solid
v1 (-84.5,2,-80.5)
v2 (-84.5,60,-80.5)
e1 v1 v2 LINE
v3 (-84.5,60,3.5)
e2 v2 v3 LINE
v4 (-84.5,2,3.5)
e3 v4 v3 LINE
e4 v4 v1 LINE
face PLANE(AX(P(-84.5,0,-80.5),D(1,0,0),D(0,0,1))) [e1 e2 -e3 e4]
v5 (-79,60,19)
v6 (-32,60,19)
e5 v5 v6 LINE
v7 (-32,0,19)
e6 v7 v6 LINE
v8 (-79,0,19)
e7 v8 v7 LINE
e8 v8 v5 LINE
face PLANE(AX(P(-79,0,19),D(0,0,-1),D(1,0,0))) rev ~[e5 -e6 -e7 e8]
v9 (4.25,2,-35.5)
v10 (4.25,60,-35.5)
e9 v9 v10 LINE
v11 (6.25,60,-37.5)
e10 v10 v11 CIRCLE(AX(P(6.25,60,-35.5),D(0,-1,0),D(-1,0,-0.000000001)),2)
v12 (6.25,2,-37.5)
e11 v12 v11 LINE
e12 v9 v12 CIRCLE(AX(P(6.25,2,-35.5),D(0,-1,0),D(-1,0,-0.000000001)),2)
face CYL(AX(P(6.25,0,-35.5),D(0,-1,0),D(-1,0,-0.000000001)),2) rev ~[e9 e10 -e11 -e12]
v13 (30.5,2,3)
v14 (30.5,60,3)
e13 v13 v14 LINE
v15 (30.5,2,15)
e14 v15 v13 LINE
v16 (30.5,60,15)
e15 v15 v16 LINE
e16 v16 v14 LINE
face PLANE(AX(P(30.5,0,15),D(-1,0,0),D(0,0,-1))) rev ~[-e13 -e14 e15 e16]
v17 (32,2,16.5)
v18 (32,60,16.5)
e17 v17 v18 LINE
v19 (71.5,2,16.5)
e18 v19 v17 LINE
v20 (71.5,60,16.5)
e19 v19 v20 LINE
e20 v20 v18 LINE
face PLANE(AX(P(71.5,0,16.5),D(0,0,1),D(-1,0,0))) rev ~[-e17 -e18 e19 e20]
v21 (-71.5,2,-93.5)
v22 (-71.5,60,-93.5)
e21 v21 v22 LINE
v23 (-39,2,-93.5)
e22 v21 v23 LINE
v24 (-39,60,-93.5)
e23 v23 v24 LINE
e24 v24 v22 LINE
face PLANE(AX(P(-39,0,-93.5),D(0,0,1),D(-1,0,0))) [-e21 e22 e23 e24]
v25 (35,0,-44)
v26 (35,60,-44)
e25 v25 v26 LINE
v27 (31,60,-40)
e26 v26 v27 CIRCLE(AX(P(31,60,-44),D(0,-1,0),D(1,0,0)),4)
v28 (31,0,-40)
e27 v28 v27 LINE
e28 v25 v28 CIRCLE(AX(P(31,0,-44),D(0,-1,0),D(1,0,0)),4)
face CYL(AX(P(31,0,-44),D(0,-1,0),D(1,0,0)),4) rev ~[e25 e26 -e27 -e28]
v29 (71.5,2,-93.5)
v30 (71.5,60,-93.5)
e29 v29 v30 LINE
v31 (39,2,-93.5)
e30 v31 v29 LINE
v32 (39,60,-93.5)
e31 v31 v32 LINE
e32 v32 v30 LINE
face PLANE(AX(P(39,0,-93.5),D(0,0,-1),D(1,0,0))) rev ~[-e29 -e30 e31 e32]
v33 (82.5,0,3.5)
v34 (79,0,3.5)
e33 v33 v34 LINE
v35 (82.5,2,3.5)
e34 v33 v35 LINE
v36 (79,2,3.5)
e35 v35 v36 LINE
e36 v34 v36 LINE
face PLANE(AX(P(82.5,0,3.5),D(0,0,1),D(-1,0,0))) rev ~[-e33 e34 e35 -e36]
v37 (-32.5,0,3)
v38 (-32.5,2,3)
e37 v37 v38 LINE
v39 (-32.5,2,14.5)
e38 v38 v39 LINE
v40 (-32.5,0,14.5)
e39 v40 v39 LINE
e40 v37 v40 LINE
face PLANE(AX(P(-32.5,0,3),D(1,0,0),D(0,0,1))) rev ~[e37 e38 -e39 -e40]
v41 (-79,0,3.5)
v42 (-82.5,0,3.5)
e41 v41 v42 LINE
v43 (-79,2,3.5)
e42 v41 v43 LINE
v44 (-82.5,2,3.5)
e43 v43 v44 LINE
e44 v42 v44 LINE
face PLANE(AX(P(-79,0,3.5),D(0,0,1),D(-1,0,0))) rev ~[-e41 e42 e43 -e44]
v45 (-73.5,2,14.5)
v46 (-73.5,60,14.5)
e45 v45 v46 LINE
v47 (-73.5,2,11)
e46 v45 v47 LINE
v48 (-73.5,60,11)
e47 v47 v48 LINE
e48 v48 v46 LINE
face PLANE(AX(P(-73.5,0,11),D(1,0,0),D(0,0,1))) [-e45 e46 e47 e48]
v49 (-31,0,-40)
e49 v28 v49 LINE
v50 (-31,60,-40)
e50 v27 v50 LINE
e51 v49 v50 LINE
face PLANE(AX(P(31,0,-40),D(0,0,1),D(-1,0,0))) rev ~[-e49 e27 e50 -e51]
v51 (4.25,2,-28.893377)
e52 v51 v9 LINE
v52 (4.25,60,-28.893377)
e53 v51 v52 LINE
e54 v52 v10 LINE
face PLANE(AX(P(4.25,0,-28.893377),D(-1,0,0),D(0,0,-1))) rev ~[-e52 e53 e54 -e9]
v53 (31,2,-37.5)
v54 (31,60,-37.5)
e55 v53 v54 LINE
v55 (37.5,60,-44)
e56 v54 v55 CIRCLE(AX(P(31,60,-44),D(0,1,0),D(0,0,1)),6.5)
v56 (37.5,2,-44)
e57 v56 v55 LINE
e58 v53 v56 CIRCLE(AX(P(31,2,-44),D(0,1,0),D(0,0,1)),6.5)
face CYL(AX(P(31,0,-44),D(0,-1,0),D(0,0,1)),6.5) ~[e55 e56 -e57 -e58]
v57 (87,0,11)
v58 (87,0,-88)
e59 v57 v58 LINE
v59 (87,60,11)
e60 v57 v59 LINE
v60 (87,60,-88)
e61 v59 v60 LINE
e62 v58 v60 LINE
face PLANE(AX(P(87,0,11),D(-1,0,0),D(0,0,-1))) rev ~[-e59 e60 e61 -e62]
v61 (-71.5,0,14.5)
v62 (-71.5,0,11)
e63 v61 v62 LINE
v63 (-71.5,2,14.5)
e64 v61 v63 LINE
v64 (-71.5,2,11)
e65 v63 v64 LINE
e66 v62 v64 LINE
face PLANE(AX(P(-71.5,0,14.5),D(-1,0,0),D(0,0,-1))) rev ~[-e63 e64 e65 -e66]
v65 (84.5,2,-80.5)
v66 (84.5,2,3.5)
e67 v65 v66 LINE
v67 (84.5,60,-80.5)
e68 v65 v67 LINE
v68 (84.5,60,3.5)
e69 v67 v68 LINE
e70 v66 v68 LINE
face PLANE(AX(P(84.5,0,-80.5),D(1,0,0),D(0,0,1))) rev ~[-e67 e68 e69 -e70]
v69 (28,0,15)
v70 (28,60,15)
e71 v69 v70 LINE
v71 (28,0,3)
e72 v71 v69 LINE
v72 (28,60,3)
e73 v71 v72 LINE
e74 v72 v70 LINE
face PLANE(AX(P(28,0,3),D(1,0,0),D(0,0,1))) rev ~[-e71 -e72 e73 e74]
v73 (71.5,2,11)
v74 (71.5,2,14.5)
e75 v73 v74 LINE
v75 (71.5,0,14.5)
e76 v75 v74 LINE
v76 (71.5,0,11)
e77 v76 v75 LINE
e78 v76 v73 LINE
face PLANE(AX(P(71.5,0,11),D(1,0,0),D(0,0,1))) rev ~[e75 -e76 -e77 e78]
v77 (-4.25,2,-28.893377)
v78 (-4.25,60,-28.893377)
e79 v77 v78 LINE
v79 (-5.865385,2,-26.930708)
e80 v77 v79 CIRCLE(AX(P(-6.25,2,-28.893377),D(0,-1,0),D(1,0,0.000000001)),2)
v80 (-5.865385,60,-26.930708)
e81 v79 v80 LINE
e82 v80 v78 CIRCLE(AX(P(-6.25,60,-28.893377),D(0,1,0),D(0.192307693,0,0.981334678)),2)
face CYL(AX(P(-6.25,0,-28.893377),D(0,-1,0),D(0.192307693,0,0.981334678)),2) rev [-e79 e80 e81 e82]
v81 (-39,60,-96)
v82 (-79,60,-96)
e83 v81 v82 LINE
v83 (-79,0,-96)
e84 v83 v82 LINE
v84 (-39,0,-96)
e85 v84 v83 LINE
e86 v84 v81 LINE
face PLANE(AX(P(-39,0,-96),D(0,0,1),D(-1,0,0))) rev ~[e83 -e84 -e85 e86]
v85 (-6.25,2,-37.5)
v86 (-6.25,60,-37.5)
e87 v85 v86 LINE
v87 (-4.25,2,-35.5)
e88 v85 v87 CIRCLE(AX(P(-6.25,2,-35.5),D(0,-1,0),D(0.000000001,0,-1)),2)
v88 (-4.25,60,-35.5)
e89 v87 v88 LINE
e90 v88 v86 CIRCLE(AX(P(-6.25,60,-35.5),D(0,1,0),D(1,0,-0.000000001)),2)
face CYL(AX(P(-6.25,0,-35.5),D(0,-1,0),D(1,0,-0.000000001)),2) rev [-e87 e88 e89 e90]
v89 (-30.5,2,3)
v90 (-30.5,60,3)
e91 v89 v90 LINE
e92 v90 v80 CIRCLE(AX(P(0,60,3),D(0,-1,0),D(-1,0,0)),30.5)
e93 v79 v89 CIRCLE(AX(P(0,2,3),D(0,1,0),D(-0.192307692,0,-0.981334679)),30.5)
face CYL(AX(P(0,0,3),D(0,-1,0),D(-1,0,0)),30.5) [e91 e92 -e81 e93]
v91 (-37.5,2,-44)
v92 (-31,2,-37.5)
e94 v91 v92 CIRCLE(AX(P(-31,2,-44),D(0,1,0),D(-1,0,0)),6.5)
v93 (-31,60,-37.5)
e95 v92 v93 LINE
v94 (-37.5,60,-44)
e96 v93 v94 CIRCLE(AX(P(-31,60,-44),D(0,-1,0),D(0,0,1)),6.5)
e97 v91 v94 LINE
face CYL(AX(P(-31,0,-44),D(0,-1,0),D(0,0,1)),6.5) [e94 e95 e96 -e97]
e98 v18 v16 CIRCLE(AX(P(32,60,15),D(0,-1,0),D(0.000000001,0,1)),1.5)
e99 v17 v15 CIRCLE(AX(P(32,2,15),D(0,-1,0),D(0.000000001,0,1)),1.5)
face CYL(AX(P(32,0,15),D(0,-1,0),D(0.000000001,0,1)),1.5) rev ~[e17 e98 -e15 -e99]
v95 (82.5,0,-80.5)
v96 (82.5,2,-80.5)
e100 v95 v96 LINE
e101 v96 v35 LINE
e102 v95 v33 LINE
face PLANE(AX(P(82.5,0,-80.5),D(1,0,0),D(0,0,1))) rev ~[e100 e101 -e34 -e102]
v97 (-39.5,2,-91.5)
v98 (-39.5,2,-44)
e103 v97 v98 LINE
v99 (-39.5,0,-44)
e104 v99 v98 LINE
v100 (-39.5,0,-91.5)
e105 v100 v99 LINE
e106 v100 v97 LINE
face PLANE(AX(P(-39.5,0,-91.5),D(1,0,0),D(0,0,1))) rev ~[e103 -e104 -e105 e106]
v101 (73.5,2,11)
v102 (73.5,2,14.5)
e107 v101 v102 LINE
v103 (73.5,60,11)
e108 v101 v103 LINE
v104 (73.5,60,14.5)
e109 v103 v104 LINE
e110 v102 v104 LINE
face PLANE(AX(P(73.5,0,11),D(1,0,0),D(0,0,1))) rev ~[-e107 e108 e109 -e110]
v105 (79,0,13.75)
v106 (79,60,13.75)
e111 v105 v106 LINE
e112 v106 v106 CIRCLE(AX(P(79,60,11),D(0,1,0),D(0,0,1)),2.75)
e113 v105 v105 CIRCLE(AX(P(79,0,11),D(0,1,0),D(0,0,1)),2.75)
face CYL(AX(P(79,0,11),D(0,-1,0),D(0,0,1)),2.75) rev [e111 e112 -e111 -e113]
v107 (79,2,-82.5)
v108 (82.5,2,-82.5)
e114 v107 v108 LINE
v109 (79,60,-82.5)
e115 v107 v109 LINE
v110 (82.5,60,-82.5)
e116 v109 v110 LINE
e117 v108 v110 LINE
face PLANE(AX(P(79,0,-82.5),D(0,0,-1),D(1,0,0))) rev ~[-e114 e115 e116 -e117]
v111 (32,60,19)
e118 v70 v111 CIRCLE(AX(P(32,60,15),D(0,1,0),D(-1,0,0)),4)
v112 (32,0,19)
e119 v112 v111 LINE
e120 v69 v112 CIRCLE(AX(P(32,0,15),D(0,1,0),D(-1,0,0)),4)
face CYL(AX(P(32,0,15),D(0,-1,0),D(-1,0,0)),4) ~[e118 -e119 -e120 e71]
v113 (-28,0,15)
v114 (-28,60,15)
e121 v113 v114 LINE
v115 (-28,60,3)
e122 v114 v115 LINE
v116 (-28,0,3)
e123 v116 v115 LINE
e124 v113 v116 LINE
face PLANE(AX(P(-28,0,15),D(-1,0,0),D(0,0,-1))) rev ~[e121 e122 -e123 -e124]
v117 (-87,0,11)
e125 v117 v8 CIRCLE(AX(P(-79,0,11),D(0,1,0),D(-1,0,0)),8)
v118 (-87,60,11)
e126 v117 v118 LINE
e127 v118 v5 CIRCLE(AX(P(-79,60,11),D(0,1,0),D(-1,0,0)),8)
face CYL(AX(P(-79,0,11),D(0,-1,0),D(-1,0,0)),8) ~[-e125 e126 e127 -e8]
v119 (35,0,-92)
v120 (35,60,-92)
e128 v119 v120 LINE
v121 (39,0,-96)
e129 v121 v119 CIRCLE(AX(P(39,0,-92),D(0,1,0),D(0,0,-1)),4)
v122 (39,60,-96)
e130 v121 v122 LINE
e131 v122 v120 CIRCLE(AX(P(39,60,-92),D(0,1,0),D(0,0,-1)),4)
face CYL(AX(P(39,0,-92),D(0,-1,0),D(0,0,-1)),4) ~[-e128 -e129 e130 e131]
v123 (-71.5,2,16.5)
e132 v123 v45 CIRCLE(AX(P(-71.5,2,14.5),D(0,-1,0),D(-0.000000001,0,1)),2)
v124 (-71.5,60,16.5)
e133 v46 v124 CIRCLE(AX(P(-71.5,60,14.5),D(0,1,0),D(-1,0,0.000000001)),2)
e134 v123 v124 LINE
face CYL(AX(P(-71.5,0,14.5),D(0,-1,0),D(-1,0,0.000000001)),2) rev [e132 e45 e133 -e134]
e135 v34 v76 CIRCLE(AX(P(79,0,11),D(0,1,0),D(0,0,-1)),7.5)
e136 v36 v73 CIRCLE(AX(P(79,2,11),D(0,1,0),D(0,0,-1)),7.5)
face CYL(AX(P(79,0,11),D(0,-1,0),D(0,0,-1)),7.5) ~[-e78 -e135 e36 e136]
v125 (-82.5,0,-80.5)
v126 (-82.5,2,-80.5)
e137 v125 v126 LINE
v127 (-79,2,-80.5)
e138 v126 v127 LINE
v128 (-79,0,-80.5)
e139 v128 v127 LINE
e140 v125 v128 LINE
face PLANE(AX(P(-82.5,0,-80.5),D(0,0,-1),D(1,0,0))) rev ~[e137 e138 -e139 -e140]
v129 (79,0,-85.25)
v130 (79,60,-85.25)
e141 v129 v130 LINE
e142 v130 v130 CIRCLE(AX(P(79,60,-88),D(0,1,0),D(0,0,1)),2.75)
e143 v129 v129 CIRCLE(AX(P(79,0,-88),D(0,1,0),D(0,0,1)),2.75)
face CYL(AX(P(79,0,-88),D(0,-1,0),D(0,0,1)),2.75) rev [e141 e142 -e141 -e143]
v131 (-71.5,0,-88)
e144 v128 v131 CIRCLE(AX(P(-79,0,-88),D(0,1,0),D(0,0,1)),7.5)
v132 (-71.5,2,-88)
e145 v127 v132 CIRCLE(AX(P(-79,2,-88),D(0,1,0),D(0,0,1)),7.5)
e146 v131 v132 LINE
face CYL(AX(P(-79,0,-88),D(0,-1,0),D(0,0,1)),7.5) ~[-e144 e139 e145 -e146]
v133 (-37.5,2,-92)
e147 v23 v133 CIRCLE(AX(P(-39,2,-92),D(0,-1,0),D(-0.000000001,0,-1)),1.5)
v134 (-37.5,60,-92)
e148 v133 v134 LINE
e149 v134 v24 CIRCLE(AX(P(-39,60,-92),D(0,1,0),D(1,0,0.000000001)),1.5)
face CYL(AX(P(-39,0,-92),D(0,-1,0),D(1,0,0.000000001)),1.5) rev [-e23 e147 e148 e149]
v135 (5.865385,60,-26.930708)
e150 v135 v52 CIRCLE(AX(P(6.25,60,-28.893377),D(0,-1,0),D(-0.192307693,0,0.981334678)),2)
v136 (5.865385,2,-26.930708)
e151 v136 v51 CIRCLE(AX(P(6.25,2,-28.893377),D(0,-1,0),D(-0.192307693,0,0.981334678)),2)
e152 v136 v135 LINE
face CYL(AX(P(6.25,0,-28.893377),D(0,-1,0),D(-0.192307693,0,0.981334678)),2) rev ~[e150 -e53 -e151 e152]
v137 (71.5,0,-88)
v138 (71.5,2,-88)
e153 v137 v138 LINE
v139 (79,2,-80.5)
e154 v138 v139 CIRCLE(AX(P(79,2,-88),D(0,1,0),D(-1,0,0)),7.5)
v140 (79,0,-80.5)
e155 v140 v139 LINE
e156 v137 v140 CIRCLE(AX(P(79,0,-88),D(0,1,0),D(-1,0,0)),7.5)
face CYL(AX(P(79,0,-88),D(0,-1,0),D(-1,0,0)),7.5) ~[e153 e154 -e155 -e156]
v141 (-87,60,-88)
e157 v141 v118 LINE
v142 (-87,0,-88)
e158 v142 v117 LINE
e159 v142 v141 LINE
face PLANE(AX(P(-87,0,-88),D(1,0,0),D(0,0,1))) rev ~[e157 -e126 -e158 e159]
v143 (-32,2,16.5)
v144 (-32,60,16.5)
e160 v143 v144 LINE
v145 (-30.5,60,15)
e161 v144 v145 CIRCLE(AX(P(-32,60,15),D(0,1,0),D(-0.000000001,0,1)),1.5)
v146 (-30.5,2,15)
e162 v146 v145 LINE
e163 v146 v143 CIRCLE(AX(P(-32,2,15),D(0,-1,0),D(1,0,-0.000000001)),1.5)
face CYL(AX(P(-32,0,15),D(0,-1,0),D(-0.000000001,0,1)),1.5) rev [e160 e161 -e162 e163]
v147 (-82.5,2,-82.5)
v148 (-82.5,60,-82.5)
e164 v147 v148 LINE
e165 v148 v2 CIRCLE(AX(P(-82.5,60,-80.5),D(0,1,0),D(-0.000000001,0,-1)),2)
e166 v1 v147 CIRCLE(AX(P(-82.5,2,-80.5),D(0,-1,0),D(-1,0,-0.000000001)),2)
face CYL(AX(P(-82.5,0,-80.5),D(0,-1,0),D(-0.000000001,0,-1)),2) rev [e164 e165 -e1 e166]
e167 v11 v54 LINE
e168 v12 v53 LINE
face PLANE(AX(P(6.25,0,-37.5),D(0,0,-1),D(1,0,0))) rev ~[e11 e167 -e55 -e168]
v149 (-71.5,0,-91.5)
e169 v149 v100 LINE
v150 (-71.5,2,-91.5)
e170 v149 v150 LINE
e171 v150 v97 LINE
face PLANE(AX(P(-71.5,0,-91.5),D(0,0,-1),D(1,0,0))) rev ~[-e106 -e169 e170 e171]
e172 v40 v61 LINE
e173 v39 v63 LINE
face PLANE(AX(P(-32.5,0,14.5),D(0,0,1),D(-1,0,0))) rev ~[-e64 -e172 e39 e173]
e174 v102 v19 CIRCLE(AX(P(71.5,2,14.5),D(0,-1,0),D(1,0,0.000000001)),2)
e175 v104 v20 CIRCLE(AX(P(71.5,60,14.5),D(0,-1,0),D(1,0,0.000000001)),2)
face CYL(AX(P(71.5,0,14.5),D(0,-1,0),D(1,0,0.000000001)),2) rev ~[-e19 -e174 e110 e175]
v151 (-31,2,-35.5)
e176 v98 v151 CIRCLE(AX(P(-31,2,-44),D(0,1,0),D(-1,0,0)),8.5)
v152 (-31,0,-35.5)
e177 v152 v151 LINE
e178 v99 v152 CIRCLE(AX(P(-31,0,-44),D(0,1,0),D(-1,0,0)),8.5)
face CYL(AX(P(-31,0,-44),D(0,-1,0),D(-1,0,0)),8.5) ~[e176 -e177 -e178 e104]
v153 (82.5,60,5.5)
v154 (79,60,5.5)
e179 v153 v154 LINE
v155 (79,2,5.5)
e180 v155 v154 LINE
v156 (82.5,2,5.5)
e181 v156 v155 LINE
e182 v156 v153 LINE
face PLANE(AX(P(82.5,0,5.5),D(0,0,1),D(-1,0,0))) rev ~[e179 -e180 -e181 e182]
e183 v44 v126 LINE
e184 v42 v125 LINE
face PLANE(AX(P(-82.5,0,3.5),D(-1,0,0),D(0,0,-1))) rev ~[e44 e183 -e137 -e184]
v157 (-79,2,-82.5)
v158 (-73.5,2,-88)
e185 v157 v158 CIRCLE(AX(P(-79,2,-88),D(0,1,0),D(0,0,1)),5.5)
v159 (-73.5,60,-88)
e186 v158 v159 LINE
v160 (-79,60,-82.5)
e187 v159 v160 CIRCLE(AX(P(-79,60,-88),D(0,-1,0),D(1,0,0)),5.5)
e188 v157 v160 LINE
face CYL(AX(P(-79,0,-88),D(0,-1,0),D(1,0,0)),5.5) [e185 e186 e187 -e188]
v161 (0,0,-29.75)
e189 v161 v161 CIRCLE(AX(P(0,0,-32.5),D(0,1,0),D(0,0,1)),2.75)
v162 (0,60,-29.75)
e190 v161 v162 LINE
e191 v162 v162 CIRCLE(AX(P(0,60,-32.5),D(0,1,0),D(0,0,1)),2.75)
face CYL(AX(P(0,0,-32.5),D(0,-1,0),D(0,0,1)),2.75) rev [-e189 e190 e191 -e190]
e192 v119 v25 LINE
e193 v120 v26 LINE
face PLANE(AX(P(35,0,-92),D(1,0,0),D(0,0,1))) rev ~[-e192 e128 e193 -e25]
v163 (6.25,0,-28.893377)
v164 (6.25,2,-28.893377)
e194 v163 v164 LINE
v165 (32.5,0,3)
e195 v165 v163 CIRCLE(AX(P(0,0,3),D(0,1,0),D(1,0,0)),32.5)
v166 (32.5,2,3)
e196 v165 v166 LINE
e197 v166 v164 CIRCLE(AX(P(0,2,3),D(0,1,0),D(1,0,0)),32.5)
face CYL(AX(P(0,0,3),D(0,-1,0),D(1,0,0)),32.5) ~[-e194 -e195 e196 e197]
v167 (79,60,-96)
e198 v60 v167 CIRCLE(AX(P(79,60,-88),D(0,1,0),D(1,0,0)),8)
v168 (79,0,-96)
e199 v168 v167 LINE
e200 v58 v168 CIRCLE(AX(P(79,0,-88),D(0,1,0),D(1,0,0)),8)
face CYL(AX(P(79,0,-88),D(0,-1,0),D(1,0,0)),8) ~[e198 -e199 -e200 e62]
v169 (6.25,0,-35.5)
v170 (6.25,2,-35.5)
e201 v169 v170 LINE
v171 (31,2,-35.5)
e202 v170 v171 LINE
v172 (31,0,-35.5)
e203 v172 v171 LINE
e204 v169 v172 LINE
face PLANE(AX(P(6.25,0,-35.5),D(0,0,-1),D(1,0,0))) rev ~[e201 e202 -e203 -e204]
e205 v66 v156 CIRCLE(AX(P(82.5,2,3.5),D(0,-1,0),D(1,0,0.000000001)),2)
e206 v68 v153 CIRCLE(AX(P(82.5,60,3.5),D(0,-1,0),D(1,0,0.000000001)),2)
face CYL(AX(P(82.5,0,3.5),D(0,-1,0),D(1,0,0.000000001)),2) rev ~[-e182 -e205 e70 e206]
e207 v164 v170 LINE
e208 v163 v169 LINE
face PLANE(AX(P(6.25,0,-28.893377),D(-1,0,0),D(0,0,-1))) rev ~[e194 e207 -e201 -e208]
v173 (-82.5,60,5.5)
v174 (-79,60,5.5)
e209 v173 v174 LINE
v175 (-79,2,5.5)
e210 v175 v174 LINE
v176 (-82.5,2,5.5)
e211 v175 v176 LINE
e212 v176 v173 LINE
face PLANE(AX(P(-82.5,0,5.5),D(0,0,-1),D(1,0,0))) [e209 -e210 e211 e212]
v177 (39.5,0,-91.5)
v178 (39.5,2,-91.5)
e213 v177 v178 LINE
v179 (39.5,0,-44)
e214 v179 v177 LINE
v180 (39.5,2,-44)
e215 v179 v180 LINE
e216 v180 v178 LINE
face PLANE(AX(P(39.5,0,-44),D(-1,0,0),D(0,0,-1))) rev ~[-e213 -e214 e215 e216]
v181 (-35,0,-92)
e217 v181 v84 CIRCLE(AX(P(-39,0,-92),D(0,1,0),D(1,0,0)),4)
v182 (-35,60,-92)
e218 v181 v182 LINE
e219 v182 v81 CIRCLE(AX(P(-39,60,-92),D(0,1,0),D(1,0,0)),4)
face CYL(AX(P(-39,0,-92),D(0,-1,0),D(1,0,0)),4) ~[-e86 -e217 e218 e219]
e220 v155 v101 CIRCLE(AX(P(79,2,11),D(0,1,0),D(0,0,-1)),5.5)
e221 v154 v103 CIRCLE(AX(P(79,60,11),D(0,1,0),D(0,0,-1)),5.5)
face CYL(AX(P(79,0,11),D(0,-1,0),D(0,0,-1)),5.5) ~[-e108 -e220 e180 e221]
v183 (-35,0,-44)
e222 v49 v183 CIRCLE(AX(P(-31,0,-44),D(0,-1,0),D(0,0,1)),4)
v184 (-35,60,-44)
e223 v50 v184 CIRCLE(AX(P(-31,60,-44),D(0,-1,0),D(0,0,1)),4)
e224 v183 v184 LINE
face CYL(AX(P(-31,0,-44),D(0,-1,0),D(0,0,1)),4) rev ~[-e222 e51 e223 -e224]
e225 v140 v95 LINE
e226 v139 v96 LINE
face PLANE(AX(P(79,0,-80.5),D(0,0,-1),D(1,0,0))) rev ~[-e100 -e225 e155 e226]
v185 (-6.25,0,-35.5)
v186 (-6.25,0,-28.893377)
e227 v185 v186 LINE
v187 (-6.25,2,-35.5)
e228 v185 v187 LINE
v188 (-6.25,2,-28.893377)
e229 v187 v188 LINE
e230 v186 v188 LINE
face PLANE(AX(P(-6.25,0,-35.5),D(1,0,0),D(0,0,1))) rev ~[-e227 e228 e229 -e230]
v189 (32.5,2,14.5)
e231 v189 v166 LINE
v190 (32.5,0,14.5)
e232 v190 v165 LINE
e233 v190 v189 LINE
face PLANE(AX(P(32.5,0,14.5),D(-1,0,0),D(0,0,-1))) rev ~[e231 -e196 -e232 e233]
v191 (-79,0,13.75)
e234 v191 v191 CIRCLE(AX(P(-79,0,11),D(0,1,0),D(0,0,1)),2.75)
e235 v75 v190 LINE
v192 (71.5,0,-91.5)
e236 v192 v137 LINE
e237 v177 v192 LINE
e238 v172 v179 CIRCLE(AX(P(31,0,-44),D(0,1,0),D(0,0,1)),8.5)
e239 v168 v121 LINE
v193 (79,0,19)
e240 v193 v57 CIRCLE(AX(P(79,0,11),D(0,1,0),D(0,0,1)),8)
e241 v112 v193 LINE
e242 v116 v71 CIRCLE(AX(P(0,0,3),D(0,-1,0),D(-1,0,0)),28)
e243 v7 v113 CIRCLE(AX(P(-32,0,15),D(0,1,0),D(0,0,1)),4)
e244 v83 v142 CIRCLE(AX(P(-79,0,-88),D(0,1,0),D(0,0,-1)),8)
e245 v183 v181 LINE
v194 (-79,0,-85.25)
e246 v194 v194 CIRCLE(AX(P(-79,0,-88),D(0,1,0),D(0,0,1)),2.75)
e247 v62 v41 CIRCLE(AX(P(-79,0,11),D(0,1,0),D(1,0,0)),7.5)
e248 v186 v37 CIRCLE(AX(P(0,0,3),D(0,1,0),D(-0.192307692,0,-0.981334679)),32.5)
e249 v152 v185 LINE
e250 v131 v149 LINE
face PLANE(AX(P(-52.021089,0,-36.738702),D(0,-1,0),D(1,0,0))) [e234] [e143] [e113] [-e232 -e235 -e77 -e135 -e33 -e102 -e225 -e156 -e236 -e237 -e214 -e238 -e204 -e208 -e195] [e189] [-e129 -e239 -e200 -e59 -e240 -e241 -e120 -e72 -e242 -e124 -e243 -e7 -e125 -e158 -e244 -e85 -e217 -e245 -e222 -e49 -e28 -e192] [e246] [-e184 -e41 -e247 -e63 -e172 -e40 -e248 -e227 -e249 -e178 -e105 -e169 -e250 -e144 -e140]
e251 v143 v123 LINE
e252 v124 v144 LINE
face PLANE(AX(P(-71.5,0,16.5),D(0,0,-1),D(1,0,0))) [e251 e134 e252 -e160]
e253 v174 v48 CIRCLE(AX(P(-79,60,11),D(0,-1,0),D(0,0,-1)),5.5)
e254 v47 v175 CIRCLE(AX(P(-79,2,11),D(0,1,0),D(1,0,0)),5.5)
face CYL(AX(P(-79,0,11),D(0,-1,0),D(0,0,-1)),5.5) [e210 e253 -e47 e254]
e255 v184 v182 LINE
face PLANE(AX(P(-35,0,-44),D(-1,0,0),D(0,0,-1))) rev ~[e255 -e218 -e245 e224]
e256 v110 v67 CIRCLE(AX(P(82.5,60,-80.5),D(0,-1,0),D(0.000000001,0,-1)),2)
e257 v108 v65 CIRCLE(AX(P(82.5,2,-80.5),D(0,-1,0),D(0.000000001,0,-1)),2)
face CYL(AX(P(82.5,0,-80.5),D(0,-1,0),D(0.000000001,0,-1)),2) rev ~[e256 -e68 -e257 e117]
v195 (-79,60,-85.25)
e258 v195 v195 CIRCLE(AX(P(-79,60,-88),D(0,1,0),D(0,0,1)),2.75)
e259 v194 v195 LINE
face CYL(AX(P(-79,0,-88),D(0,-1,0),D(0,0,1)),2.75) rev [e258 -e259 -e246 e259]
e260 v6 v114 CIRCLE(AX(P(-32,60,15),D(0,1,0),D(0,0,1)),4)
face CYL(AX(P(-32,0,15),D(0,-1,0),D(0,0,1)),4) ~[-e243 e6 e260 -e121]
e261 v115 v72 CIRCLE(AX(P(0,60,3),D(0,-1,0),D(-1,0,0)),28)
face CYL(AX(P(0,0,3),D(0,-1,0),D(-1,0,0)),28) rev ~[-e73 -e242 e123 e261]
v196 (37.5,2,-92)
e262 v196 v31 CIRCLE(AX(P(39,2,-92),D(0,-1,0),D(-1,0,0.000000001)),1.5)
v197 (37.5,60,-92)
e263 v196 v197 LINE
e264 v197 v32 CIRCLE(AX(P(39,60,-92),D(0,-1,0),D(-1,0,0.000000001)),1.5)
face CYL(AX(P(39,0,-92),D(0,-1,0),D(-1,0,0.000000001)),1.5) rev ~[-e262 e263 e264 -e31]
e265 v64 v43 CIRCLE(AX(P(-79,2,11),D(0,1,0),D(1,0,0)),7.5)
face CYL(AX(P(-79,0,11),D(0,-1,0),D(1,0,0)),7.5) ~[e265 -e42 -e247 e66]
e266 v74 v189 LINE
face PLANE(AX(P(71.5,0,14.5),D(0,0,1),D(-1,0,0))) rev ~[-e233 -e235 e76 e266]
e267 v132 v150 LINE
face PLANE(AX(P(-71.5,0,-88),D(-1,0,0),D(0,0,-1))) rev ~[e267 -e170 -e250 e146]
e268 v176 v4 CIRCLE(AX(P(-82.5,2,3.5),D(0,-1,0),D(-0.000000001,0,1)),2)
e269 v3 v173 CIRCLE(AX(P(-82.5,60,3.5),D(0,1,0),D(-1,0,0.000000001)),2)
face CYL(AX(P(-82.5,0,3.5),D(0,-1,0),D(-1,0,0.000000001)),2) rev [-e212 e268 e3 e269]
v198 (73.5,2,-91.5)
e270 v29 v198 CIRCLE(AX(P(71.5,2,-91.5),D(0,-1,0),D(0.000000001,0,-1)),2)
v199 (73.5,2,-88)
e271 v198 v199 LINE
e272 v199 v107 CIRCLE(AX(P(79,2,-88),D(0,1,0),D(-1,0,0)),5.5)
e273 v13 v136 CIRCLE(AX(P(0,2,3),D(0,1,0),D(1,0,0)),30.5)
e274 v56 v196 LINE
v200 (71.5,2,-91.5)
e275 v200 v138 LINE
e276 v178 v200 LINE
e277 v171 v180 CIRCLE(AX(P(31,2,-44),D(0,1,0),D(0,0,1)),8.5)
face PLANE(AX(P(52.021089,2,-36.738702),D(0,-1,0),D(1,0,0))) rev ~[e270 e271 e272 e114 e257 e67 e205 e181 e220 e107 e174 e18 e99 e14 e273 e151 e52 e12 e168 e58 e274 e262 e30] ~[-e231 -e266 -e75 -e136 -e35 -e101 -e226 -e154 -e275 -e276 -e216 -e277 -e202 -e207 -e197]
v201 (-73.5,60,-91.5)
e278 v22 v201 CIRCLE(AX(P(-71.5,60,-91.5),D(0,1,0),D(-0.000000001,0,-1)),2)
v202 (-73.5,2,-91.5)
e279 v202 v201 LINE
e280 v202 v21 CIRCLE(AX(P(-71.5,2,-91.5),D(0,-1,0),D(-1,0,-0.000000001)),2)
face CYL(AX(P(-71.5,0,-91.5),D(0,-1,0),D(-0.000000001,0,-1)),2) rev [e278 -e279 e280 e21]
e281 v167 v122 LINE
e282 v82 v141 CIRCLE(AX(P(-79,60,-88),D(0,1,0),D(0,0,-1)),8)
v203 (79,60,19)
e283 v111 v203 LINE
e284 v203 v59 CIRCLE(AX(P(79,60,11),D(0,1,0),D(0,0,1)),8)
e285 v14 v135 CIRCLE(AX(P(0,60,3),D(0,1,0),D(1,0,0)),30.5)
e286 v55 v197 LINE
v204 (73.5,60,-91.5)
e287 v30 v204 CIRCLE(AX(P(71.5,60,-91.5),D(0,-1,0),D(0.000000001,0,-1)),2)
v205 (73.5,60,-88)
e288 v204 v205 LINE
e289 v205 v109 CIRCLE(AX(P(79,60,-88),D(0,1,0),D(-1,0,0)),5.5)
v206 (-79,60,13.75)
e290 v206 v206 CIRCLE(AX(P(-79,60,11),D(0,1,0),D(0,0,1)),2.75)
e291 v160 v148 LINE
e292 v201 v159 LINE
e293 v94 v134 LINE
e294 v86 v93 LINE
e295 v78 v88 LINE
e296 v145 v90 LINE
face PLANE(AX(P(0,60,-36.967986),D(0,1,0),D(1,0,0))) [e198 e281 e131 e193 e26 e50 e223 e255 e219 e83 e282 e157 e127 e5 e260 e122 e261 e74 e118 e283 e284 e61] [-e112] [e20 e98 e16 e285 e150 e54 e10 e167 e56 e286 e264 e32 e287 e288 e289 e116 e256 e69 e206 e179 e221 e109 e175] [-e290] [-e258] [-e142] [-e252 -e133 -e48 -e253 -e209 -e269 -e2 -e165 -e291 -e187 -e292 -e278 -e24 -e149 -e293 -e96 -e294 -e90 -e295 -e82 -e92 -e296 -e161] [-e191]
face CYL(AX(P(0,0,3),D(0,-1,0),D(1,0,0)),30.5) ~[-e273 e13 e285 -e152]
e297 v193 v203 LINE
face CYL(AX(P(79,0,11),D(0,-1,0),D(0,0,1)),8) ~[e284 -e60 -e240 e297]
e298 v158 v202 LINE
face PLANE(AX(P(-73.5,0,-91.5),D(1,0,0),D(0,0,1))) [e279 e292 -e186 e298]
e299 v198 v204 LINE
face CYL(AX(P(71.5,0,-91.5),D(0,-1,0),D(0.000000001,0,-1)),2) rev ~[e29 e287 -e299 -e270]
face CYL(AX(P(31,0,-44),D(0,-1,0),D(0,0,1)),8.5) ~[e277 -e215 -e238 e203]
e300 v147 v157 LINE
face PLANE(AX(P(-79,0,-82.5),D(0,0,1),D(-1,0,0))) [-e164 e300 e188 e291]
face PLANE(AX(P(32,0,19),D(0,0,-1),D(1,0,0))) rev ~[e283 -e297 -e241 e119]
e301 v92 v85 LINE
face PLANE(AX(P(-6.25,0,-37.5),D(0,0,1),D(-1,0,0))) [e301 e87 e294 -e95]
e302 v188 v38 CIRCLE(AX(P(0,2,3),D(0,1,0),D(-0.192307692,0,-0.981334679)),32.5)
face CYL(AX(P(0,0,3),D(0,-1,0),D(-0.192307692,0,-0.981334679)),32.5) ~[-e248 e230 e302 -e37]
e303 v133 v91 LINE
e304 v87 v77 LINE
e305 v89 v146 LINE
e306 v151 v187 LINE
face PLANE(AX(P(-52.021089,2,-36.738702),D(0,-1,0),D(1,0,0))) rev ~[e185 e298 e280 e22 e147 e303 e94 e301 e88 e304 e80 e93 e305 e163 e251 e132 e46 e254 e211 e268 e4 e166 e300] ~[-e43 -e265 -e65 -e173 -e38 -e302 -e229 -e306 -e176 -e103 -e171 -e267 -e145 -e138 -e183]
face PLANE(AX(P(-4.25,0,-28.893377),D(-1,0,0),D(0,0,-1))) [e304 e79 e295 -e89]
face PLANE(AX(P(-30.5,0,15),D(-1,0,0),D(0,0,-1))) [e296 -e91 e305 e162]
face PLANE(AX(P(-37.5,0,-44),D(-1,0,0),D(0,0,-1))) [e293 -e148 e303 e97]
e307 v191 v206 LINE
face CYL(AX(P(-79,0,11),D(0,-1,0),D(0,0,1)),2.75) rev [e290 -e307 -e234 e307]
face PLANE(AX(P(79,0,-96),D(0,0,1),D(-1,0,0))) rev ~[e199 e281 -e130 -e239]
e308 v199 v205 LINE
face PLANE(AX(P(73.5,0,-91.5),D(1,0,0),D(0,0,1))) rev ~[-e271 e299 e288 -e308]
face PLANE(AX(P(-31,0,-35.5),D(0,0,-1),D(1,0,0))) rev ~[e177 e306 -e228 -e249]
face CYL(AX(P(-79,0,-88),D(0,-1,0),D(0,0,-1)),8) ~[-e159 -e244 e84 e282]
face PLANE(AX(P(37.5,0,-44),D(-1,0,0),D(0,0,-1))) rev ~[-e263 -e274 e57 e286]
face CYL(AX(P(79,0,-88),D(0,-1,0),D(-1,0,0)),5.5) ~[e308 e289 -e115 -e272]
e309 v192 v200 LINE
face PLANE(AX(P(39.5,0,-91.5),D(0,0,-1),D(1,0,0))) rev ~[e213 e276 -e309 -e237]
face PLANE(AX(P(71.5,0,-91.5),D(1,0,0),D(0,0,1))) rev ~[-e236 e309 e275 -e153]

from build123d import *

# Parameters (mm, degrees)
SKETCH2_R           = 2.75
BOSS_EXTRUDE1_DEPTH = 60
BOSS_EXTRUDE2_DEPTH = 2


with BuildPart() as part:
    # Sketch2 → Boss-Extrude1 (new body)
    with BuildSketch(Plane(origin=(0, 0, 0), x_dir=(1, 0, 0), z_dir=(0, 1, 0))):
        with BuildLine():
            Line((87, -11), (87, 88))
            ThreePointArc((87, 88), (84.656854249, 93.656854249), (79, 96))
            Line((79, 96), (39, 96))
            ThreePointArc((39, 96), (36.171572875, 94.828427125), (35, 92))
            Line((35, 92), (35, 44))
            ThreePointArc((35, 44), (33.828427125, 41.171572875), (31, 40))
            Line((31, 40), (-31, 40))
            ThreePointArc((-31, 40), (-33.828427125, 41.171572875), (-35, 44))
            Line((-35, 44), (-35, 92))
            ThreePointArc((-35, 92), (-36.171572875, 94.828427125), (-39, 96))
            Line((-39, 96), (-79, 96))
            ThreePointArc((-79, 96), (-84.656854249, 93.656854249), (-87, 88))
            Line((-87, 88), (-87, -11))
            ThreePointArc((-87, -11), (-84.656854249, -16.656854249), (-79, -19))
            Line((-79, -19), (-32, -19))
            ThreePointArc((-32, -19), (-29.171572875, -17.828427125), (-28, -15))
            Line((-28, -15), (-28, -3))
            ThreePointArc((-28, -3), (0, 25), (28, -3))
            Line((28, -3), (28, -15))
            ThreePointArc((28, -15), (29.171572875, -17.828427125), (32, -19))
            Line((32, -19), (79, -19))
            ThreePointArc((79, -19), (84.656854249, -16.656854249), (87, -11))
        make_face()
        with Locations(Location((-79, 88, 0), (0, 0, 270))):
            Circle(SKETCH2_R, mode=Mode.SUBTRACT)
        with Locations(Location((79, 88, 0), (0, 0, 270))):
            Circle(SKETCH2_R, mode=Mode.SUBTRACT)
        with Locations(Location((79, -11, 0), (0, 0, 270))):
            Circle(SKETCH2_R, mode=Mode.SUBTRACT)
        with Locations(Location((-79, -11, 0), (0, 0, 270))):
            Circle(SKETCH2_R, mode=Mode.SUBTRACT)
        with Locations(Location((0, 32.5, 0), (0, 0, 270))):
            Circle(SKETCH2_R, mode=Mode.SUBTRACT)
        with BuildLine():
            Line((-39, 93.5), (-71.5, 93.5))
            ThreePointArc((-71.5, 93.5), (-72.914213562, 92.914213562), (-73.5, 91.5))
            Line((-73.5, 91.5), (-73.5, 88))
            ThreePointArc((-73.5, 88), (-75.110912703, 84.110912703), (-79, 82.5))
            Line((-79, 82.5), (-82.5, 82.5))
            ThreePointArc((-82.5, 82.5), (-83.914213562, 81.914213562), (-84.5, 80.5))
            Line((-84.5, 80.5), (-84.5, -3.5))
            ThreePointArc((-84.5, -3.5), (-83.914213562, -4.914213562), (-82.5, -5.5))
            Line((-82.5, -5.5), (-79, -5.5))
            ThreePointArc((-79, -5.5), (-75.110912703, -7.110912703), (-73.5, -11))
            Line((-73.5, -11), (-73.5, -14.5))
            ThreePointArc((-73.5, -14.5), (-72.914213562, -15.914213562), (-71.5, -16.5))
            Line((-71.5, -16.5), (-32, -16.5))
            ThreePointArc((-32, -16.5), (-30.939339828, -16.060660172), (-30.5, -15))
            Line((-30.5, -15), (-30.5, -3))
            ThreePointArc((-30.5, -3), (-23.549354883, 16.382411734), (-5.865384615, 26.930707698))
            ThreePointArc((-5.865384615, 26.930707698), (-4.705780008, 27.622399237), (-4.25, 28.893377055))
            Line((-4.25, 28.893377055), (-4.25, 35.5))
            ThreePointArc((-4.25, 35.5), (-4.835786438, 36.914213562), (-6.25, 37.5))
            Line((-6.25, 37.5), (-31, 37.5))
            ThreePointArc((-31, 37.5), (-35.596194078, 39.403805922), (-37.5, 44))
            Line((-37.5, 44), (-37.5, 92))
            ThreePointArc((-37.5, 92), (-37.939339828, 93.060660172), (-39, 93.5))
        make_face(mode=Mode.SUBTRACT)
        with BuildLine():
            Line((30.5, -15), (30.5, -3))
            ThreePointArc((30.5, -3), (23.549354883, 16.382411734), (5.865384615, 26.930707698))
            ThreePointArc((5.865384615, 26.930707698), (4.705780008, 27.622399237), (4.25, 28.893377055))
            Line((4.25, 28.893377055), (4.25, 35.5))
            ThreePointArc((4.25, 35.5), (4.835786438, 36.914213562), (6.25, 37.5))
            Line((6.25, 37.5), (31, 37.5))
            ThreePointArc((31, 37.5), (35.596194078, 39.403805922), (37.5, 44))
            Line((37.5, 44), (37.5, 92))
            ThreePointArc((37.5, 92), (37.939339828, 93.060660172), (39, 93.5))
            Line((39, 93.5), (71.5, 93.5))
            ThreePointArc((71.5, 93.5), (72.914213562, 92.914213562), (73.5, 91.5))
            Line((73.5, 91.5), (73.5, 88))
            ThreePointArc((73.5, 88), (75.110912703, 84.110912703), (79, 82.5))
            Line((79, 82.5), (82.5, 82.5))
            ThreePointArc((82.5, 82.5), (83.914213562, 81.914213562), (84.5, 80.5))
            Line((84.5, 80.5), (84.5, -3.5))
            ThreePointArc((84.5, -3.5), (83.914213562, -4.914213562), (82.5, -5.5))
            Line((82.5, -5.5), (79, -5.5))
            ThreePointArc((79, -5.5), (75.110912703, -7.110912703), (73.5, -11))
            Line((73.5, -11), (73.5, -14.5))
            ThreePointArc((73.5, -14.5), (72.914213562, -15.914213562), (71.5, -16.5))
            Line((71.5, -16.5), (32, -16.5))
            ThreePointArc((32, -16.5), (30.939339828, -16.060660172), (30.5, -15))
        make_face(mode=Mode.SUBTRACT)
    extrude(amount=BOSS_EXTRUDE1_DEPTH)

    # Sketch3 → Boss-Extrude2 (add)
    # profile 1 of 2: a face of its own
    with BuildSketch(Plane.XZ):
        with BuildLine():
            Line((-37.5, -92), (-37.5, -44))
            ThreePointArc((-37.5, -44), (-35.596194078, -39.403805922), (-31, -37.5))
            Line((-31, -37.5), (-6.25, -37.5))
            ThreePointArc((-6.25, -37.5), (-4.835786438, -36.914213562), (-4.25, -35.5))
            Line((-4.25, -35.5), (-4.25, -28.893377055))
            ThreePointArc((-4.25, -28.893377055), (-4.705780008, -27.622399237), (-5.865384615, -26.930707698))
            ThreePointArc((-5.865384615, -26.930707698), (-23.549354883, -16.382411734), (-30.5, 3))
            Line((-30.5, 3), (-30.5, 15))
            ThreePointArc((-30.5, 15), (-30.939339828, 16.060660172), (-32, 16.5))
            Line((-32, 16.5), (-71.5, 16.5))
            ThreePointArc((-71.5, 16.5), (-72.914213562, 15.914213562), (-73.5, 14.5))
            Line((-73.5, 14.5), (-73.5, 11))
            ThreePointArc((-73.5, 11), (-75.110912703, 7.110912703), (-79, 5.5))
            Line((-79, 5.5), (-82.5, 5.5))
            ThreePointArc((-82.5, 5.5), (-83.914213562, 4.914213562), (-84.5, 3.5))
            Line((-84.5, 3.5), (-84.5, -80.5))
            ThreePointArc((-84.5, -80.5), (-83.914213562, -81.914213562), (-82.5, -82.5))
            Line((-82.5, -82.5), (-79, -82.5))
            ThreePointArc((-79, -82.5), (-75.110912703, -84.110912703), (-73.5, -88))
            Line((-73.5, -88), (-73.5, -91.5))
            ThreePointArc((-73.5, -91.5), (-72.914213562, -92.914213562), (-71.5, -93.5))
            Line((-71.5, -93.5), (-39, -93.5))
            ThreePointArc((-39, -93.5), (-37.939339828, -93.060660172), (-37.5, -92))
        make_face()
        with BuildLine():
            Line((-39.5, -91.5), (-39.5, -44))
            ThreePointArc((-39.5, -44), (-37.01040764, -37.98959236), (-31, -35.5))
            Line((-31, -35.5), (-6.25, -35.5))
            Line((-6.25, -35.5), (-6.25, -28.893377055))
            ThreePointArc((-6.25, -28.893377055), (-25.093574875, -17.653389552), (-32.5, 3))
            Line((-32.5, 3), (-32.5, 14.5))
            Line((-32.5, 14.5), (-71.5, 14.5))
            Line((-71.5, 14.5), (-71.5, 11))
            ThreePointArc((-71.5, 11), (-73.696699141, 5.696699141), (-79, 3.5))
            Line((-79, 3.5), (-82.5, 3.5))
            Line((-82.5, 3.5), (-82.5, -80.5))
            Line((-82.5, -80.5), (-79, -80.5))
            ThreePointArc((-79, -80.5), (-73.696699141, -82.696699141), (-71.5, -88))
            Line((-71.5, -88), (-71.5, -91.5))
            Line((-71.5, -91.5), (-39.5, -91.5))
        make_face(mode=Mode.SUBTRACT)
    # profile 2 of 2: a face of its own
    with BuildSketch(Plane.XZ):
        with BuildLine():
            Line((30.5, 15), (30.5, 3))
            ThreePointArc((30.5, 3), (23.549354883, -16.382411734), (5.865384615, -26.930707698))
            ThreePointArc((5.865384615, -26.930707698), (4.705780008, -27.622399237), (4.25, -28.893377055))
            Line((4.25, -28.893377055), (4.25, -35.5))
            ThreePointArc((4.25, -35.5), (4.835786438, -36.914213562), (6.25, -37.5))
            Line((6.25, -37.5), (31, -37.5))
            ThreePointArc((31, -37.5), (35.596194078, -39.403805922), (37.5, -44))
            Line((37.5, -44), (37.5, -92))
            ThreePointArc((37.5, -92), (37.939339828, -93.060660172), (39, -93.5))
            Line((39, -93.5), (71.5, -93.5))
            ThreePointArc((71.5, -93.5), (72.914213562, -92.914213562), (73.5, -91.5))
            Line((73.5, -91.5), (73.5, -88))
            ThreePointArc((73.5, -88), (75.110912703, -84.110912703), (79, -82.5))
            Line((79, -82.5), (82.5, -82.5))
            ThreePointArc((82.5, -82.5), (83.914213562, -81.914213562), (84.5, -80.5))
            Line((84.5, -80.5), (84.5, 3.5))
            ThreePointArc((84.5, 3.5), (83.914213562, 4.914213562), (82.5, 5.5))
            Line((82.5, 5.5), (79, 5.5))
            ThreePointArc((79, 5.5), (75.110912703, 7.110912703), (73.5, 11))
            Line((73.5, 11), (73.5, 14.5))
            ThreePointArc((73.5, 14.5), (72.914213562, 15.914213562), (71.5, 16.5))
            Line((71.5, 16.5), (32, 16.5))
            ThreePointArc((32, 16.5), (30.939339828, 16.060660172), (30.5, 15))
        make_face()
        with BuildLine():
            Line((71.5, 14.5), (32.5, 14.5))
            Line((32.5, 14.5), (32.5, 3))
            ThreePointArc((32.5, 3), (25.093574875, -17.653389552), (6.25, -28.893377055))
            Line((6.25, -28.893377055), (6.25, -35.5))
            Line((6.25, -35.5), (31, -35.5))
            ThreePointArc((31, -35.5), (37.01040764, -37.98959236), (39.5, -44))
            Line((39.5, -44), (39.5, -91.5))
            Line((39.5, -91.5), (71.5, -91.5))
            Line((71.5, -91.5), (71.5, -88))
            ThreePointArc((71.5, -88), (73.696699141, -82.696699141), (79, -80.5))
            Line((79, -80.5), (82.5, -80.5))
            Line((82.5, -80.5), (82.5, 3.5))
            Line((82.5, 3.5), (79, 3.5))
            ThreePointArc((79, 3.5), (73.696699141, 5.696699141), (71.5, 11))
            Line((71.5, 11), (71.5, 14.5))
        make_face(mode=Mode.SUBTRACT)
    extrude(amount=-BOSS_EXTRUDE2_DEPTH)


solid = part.part
